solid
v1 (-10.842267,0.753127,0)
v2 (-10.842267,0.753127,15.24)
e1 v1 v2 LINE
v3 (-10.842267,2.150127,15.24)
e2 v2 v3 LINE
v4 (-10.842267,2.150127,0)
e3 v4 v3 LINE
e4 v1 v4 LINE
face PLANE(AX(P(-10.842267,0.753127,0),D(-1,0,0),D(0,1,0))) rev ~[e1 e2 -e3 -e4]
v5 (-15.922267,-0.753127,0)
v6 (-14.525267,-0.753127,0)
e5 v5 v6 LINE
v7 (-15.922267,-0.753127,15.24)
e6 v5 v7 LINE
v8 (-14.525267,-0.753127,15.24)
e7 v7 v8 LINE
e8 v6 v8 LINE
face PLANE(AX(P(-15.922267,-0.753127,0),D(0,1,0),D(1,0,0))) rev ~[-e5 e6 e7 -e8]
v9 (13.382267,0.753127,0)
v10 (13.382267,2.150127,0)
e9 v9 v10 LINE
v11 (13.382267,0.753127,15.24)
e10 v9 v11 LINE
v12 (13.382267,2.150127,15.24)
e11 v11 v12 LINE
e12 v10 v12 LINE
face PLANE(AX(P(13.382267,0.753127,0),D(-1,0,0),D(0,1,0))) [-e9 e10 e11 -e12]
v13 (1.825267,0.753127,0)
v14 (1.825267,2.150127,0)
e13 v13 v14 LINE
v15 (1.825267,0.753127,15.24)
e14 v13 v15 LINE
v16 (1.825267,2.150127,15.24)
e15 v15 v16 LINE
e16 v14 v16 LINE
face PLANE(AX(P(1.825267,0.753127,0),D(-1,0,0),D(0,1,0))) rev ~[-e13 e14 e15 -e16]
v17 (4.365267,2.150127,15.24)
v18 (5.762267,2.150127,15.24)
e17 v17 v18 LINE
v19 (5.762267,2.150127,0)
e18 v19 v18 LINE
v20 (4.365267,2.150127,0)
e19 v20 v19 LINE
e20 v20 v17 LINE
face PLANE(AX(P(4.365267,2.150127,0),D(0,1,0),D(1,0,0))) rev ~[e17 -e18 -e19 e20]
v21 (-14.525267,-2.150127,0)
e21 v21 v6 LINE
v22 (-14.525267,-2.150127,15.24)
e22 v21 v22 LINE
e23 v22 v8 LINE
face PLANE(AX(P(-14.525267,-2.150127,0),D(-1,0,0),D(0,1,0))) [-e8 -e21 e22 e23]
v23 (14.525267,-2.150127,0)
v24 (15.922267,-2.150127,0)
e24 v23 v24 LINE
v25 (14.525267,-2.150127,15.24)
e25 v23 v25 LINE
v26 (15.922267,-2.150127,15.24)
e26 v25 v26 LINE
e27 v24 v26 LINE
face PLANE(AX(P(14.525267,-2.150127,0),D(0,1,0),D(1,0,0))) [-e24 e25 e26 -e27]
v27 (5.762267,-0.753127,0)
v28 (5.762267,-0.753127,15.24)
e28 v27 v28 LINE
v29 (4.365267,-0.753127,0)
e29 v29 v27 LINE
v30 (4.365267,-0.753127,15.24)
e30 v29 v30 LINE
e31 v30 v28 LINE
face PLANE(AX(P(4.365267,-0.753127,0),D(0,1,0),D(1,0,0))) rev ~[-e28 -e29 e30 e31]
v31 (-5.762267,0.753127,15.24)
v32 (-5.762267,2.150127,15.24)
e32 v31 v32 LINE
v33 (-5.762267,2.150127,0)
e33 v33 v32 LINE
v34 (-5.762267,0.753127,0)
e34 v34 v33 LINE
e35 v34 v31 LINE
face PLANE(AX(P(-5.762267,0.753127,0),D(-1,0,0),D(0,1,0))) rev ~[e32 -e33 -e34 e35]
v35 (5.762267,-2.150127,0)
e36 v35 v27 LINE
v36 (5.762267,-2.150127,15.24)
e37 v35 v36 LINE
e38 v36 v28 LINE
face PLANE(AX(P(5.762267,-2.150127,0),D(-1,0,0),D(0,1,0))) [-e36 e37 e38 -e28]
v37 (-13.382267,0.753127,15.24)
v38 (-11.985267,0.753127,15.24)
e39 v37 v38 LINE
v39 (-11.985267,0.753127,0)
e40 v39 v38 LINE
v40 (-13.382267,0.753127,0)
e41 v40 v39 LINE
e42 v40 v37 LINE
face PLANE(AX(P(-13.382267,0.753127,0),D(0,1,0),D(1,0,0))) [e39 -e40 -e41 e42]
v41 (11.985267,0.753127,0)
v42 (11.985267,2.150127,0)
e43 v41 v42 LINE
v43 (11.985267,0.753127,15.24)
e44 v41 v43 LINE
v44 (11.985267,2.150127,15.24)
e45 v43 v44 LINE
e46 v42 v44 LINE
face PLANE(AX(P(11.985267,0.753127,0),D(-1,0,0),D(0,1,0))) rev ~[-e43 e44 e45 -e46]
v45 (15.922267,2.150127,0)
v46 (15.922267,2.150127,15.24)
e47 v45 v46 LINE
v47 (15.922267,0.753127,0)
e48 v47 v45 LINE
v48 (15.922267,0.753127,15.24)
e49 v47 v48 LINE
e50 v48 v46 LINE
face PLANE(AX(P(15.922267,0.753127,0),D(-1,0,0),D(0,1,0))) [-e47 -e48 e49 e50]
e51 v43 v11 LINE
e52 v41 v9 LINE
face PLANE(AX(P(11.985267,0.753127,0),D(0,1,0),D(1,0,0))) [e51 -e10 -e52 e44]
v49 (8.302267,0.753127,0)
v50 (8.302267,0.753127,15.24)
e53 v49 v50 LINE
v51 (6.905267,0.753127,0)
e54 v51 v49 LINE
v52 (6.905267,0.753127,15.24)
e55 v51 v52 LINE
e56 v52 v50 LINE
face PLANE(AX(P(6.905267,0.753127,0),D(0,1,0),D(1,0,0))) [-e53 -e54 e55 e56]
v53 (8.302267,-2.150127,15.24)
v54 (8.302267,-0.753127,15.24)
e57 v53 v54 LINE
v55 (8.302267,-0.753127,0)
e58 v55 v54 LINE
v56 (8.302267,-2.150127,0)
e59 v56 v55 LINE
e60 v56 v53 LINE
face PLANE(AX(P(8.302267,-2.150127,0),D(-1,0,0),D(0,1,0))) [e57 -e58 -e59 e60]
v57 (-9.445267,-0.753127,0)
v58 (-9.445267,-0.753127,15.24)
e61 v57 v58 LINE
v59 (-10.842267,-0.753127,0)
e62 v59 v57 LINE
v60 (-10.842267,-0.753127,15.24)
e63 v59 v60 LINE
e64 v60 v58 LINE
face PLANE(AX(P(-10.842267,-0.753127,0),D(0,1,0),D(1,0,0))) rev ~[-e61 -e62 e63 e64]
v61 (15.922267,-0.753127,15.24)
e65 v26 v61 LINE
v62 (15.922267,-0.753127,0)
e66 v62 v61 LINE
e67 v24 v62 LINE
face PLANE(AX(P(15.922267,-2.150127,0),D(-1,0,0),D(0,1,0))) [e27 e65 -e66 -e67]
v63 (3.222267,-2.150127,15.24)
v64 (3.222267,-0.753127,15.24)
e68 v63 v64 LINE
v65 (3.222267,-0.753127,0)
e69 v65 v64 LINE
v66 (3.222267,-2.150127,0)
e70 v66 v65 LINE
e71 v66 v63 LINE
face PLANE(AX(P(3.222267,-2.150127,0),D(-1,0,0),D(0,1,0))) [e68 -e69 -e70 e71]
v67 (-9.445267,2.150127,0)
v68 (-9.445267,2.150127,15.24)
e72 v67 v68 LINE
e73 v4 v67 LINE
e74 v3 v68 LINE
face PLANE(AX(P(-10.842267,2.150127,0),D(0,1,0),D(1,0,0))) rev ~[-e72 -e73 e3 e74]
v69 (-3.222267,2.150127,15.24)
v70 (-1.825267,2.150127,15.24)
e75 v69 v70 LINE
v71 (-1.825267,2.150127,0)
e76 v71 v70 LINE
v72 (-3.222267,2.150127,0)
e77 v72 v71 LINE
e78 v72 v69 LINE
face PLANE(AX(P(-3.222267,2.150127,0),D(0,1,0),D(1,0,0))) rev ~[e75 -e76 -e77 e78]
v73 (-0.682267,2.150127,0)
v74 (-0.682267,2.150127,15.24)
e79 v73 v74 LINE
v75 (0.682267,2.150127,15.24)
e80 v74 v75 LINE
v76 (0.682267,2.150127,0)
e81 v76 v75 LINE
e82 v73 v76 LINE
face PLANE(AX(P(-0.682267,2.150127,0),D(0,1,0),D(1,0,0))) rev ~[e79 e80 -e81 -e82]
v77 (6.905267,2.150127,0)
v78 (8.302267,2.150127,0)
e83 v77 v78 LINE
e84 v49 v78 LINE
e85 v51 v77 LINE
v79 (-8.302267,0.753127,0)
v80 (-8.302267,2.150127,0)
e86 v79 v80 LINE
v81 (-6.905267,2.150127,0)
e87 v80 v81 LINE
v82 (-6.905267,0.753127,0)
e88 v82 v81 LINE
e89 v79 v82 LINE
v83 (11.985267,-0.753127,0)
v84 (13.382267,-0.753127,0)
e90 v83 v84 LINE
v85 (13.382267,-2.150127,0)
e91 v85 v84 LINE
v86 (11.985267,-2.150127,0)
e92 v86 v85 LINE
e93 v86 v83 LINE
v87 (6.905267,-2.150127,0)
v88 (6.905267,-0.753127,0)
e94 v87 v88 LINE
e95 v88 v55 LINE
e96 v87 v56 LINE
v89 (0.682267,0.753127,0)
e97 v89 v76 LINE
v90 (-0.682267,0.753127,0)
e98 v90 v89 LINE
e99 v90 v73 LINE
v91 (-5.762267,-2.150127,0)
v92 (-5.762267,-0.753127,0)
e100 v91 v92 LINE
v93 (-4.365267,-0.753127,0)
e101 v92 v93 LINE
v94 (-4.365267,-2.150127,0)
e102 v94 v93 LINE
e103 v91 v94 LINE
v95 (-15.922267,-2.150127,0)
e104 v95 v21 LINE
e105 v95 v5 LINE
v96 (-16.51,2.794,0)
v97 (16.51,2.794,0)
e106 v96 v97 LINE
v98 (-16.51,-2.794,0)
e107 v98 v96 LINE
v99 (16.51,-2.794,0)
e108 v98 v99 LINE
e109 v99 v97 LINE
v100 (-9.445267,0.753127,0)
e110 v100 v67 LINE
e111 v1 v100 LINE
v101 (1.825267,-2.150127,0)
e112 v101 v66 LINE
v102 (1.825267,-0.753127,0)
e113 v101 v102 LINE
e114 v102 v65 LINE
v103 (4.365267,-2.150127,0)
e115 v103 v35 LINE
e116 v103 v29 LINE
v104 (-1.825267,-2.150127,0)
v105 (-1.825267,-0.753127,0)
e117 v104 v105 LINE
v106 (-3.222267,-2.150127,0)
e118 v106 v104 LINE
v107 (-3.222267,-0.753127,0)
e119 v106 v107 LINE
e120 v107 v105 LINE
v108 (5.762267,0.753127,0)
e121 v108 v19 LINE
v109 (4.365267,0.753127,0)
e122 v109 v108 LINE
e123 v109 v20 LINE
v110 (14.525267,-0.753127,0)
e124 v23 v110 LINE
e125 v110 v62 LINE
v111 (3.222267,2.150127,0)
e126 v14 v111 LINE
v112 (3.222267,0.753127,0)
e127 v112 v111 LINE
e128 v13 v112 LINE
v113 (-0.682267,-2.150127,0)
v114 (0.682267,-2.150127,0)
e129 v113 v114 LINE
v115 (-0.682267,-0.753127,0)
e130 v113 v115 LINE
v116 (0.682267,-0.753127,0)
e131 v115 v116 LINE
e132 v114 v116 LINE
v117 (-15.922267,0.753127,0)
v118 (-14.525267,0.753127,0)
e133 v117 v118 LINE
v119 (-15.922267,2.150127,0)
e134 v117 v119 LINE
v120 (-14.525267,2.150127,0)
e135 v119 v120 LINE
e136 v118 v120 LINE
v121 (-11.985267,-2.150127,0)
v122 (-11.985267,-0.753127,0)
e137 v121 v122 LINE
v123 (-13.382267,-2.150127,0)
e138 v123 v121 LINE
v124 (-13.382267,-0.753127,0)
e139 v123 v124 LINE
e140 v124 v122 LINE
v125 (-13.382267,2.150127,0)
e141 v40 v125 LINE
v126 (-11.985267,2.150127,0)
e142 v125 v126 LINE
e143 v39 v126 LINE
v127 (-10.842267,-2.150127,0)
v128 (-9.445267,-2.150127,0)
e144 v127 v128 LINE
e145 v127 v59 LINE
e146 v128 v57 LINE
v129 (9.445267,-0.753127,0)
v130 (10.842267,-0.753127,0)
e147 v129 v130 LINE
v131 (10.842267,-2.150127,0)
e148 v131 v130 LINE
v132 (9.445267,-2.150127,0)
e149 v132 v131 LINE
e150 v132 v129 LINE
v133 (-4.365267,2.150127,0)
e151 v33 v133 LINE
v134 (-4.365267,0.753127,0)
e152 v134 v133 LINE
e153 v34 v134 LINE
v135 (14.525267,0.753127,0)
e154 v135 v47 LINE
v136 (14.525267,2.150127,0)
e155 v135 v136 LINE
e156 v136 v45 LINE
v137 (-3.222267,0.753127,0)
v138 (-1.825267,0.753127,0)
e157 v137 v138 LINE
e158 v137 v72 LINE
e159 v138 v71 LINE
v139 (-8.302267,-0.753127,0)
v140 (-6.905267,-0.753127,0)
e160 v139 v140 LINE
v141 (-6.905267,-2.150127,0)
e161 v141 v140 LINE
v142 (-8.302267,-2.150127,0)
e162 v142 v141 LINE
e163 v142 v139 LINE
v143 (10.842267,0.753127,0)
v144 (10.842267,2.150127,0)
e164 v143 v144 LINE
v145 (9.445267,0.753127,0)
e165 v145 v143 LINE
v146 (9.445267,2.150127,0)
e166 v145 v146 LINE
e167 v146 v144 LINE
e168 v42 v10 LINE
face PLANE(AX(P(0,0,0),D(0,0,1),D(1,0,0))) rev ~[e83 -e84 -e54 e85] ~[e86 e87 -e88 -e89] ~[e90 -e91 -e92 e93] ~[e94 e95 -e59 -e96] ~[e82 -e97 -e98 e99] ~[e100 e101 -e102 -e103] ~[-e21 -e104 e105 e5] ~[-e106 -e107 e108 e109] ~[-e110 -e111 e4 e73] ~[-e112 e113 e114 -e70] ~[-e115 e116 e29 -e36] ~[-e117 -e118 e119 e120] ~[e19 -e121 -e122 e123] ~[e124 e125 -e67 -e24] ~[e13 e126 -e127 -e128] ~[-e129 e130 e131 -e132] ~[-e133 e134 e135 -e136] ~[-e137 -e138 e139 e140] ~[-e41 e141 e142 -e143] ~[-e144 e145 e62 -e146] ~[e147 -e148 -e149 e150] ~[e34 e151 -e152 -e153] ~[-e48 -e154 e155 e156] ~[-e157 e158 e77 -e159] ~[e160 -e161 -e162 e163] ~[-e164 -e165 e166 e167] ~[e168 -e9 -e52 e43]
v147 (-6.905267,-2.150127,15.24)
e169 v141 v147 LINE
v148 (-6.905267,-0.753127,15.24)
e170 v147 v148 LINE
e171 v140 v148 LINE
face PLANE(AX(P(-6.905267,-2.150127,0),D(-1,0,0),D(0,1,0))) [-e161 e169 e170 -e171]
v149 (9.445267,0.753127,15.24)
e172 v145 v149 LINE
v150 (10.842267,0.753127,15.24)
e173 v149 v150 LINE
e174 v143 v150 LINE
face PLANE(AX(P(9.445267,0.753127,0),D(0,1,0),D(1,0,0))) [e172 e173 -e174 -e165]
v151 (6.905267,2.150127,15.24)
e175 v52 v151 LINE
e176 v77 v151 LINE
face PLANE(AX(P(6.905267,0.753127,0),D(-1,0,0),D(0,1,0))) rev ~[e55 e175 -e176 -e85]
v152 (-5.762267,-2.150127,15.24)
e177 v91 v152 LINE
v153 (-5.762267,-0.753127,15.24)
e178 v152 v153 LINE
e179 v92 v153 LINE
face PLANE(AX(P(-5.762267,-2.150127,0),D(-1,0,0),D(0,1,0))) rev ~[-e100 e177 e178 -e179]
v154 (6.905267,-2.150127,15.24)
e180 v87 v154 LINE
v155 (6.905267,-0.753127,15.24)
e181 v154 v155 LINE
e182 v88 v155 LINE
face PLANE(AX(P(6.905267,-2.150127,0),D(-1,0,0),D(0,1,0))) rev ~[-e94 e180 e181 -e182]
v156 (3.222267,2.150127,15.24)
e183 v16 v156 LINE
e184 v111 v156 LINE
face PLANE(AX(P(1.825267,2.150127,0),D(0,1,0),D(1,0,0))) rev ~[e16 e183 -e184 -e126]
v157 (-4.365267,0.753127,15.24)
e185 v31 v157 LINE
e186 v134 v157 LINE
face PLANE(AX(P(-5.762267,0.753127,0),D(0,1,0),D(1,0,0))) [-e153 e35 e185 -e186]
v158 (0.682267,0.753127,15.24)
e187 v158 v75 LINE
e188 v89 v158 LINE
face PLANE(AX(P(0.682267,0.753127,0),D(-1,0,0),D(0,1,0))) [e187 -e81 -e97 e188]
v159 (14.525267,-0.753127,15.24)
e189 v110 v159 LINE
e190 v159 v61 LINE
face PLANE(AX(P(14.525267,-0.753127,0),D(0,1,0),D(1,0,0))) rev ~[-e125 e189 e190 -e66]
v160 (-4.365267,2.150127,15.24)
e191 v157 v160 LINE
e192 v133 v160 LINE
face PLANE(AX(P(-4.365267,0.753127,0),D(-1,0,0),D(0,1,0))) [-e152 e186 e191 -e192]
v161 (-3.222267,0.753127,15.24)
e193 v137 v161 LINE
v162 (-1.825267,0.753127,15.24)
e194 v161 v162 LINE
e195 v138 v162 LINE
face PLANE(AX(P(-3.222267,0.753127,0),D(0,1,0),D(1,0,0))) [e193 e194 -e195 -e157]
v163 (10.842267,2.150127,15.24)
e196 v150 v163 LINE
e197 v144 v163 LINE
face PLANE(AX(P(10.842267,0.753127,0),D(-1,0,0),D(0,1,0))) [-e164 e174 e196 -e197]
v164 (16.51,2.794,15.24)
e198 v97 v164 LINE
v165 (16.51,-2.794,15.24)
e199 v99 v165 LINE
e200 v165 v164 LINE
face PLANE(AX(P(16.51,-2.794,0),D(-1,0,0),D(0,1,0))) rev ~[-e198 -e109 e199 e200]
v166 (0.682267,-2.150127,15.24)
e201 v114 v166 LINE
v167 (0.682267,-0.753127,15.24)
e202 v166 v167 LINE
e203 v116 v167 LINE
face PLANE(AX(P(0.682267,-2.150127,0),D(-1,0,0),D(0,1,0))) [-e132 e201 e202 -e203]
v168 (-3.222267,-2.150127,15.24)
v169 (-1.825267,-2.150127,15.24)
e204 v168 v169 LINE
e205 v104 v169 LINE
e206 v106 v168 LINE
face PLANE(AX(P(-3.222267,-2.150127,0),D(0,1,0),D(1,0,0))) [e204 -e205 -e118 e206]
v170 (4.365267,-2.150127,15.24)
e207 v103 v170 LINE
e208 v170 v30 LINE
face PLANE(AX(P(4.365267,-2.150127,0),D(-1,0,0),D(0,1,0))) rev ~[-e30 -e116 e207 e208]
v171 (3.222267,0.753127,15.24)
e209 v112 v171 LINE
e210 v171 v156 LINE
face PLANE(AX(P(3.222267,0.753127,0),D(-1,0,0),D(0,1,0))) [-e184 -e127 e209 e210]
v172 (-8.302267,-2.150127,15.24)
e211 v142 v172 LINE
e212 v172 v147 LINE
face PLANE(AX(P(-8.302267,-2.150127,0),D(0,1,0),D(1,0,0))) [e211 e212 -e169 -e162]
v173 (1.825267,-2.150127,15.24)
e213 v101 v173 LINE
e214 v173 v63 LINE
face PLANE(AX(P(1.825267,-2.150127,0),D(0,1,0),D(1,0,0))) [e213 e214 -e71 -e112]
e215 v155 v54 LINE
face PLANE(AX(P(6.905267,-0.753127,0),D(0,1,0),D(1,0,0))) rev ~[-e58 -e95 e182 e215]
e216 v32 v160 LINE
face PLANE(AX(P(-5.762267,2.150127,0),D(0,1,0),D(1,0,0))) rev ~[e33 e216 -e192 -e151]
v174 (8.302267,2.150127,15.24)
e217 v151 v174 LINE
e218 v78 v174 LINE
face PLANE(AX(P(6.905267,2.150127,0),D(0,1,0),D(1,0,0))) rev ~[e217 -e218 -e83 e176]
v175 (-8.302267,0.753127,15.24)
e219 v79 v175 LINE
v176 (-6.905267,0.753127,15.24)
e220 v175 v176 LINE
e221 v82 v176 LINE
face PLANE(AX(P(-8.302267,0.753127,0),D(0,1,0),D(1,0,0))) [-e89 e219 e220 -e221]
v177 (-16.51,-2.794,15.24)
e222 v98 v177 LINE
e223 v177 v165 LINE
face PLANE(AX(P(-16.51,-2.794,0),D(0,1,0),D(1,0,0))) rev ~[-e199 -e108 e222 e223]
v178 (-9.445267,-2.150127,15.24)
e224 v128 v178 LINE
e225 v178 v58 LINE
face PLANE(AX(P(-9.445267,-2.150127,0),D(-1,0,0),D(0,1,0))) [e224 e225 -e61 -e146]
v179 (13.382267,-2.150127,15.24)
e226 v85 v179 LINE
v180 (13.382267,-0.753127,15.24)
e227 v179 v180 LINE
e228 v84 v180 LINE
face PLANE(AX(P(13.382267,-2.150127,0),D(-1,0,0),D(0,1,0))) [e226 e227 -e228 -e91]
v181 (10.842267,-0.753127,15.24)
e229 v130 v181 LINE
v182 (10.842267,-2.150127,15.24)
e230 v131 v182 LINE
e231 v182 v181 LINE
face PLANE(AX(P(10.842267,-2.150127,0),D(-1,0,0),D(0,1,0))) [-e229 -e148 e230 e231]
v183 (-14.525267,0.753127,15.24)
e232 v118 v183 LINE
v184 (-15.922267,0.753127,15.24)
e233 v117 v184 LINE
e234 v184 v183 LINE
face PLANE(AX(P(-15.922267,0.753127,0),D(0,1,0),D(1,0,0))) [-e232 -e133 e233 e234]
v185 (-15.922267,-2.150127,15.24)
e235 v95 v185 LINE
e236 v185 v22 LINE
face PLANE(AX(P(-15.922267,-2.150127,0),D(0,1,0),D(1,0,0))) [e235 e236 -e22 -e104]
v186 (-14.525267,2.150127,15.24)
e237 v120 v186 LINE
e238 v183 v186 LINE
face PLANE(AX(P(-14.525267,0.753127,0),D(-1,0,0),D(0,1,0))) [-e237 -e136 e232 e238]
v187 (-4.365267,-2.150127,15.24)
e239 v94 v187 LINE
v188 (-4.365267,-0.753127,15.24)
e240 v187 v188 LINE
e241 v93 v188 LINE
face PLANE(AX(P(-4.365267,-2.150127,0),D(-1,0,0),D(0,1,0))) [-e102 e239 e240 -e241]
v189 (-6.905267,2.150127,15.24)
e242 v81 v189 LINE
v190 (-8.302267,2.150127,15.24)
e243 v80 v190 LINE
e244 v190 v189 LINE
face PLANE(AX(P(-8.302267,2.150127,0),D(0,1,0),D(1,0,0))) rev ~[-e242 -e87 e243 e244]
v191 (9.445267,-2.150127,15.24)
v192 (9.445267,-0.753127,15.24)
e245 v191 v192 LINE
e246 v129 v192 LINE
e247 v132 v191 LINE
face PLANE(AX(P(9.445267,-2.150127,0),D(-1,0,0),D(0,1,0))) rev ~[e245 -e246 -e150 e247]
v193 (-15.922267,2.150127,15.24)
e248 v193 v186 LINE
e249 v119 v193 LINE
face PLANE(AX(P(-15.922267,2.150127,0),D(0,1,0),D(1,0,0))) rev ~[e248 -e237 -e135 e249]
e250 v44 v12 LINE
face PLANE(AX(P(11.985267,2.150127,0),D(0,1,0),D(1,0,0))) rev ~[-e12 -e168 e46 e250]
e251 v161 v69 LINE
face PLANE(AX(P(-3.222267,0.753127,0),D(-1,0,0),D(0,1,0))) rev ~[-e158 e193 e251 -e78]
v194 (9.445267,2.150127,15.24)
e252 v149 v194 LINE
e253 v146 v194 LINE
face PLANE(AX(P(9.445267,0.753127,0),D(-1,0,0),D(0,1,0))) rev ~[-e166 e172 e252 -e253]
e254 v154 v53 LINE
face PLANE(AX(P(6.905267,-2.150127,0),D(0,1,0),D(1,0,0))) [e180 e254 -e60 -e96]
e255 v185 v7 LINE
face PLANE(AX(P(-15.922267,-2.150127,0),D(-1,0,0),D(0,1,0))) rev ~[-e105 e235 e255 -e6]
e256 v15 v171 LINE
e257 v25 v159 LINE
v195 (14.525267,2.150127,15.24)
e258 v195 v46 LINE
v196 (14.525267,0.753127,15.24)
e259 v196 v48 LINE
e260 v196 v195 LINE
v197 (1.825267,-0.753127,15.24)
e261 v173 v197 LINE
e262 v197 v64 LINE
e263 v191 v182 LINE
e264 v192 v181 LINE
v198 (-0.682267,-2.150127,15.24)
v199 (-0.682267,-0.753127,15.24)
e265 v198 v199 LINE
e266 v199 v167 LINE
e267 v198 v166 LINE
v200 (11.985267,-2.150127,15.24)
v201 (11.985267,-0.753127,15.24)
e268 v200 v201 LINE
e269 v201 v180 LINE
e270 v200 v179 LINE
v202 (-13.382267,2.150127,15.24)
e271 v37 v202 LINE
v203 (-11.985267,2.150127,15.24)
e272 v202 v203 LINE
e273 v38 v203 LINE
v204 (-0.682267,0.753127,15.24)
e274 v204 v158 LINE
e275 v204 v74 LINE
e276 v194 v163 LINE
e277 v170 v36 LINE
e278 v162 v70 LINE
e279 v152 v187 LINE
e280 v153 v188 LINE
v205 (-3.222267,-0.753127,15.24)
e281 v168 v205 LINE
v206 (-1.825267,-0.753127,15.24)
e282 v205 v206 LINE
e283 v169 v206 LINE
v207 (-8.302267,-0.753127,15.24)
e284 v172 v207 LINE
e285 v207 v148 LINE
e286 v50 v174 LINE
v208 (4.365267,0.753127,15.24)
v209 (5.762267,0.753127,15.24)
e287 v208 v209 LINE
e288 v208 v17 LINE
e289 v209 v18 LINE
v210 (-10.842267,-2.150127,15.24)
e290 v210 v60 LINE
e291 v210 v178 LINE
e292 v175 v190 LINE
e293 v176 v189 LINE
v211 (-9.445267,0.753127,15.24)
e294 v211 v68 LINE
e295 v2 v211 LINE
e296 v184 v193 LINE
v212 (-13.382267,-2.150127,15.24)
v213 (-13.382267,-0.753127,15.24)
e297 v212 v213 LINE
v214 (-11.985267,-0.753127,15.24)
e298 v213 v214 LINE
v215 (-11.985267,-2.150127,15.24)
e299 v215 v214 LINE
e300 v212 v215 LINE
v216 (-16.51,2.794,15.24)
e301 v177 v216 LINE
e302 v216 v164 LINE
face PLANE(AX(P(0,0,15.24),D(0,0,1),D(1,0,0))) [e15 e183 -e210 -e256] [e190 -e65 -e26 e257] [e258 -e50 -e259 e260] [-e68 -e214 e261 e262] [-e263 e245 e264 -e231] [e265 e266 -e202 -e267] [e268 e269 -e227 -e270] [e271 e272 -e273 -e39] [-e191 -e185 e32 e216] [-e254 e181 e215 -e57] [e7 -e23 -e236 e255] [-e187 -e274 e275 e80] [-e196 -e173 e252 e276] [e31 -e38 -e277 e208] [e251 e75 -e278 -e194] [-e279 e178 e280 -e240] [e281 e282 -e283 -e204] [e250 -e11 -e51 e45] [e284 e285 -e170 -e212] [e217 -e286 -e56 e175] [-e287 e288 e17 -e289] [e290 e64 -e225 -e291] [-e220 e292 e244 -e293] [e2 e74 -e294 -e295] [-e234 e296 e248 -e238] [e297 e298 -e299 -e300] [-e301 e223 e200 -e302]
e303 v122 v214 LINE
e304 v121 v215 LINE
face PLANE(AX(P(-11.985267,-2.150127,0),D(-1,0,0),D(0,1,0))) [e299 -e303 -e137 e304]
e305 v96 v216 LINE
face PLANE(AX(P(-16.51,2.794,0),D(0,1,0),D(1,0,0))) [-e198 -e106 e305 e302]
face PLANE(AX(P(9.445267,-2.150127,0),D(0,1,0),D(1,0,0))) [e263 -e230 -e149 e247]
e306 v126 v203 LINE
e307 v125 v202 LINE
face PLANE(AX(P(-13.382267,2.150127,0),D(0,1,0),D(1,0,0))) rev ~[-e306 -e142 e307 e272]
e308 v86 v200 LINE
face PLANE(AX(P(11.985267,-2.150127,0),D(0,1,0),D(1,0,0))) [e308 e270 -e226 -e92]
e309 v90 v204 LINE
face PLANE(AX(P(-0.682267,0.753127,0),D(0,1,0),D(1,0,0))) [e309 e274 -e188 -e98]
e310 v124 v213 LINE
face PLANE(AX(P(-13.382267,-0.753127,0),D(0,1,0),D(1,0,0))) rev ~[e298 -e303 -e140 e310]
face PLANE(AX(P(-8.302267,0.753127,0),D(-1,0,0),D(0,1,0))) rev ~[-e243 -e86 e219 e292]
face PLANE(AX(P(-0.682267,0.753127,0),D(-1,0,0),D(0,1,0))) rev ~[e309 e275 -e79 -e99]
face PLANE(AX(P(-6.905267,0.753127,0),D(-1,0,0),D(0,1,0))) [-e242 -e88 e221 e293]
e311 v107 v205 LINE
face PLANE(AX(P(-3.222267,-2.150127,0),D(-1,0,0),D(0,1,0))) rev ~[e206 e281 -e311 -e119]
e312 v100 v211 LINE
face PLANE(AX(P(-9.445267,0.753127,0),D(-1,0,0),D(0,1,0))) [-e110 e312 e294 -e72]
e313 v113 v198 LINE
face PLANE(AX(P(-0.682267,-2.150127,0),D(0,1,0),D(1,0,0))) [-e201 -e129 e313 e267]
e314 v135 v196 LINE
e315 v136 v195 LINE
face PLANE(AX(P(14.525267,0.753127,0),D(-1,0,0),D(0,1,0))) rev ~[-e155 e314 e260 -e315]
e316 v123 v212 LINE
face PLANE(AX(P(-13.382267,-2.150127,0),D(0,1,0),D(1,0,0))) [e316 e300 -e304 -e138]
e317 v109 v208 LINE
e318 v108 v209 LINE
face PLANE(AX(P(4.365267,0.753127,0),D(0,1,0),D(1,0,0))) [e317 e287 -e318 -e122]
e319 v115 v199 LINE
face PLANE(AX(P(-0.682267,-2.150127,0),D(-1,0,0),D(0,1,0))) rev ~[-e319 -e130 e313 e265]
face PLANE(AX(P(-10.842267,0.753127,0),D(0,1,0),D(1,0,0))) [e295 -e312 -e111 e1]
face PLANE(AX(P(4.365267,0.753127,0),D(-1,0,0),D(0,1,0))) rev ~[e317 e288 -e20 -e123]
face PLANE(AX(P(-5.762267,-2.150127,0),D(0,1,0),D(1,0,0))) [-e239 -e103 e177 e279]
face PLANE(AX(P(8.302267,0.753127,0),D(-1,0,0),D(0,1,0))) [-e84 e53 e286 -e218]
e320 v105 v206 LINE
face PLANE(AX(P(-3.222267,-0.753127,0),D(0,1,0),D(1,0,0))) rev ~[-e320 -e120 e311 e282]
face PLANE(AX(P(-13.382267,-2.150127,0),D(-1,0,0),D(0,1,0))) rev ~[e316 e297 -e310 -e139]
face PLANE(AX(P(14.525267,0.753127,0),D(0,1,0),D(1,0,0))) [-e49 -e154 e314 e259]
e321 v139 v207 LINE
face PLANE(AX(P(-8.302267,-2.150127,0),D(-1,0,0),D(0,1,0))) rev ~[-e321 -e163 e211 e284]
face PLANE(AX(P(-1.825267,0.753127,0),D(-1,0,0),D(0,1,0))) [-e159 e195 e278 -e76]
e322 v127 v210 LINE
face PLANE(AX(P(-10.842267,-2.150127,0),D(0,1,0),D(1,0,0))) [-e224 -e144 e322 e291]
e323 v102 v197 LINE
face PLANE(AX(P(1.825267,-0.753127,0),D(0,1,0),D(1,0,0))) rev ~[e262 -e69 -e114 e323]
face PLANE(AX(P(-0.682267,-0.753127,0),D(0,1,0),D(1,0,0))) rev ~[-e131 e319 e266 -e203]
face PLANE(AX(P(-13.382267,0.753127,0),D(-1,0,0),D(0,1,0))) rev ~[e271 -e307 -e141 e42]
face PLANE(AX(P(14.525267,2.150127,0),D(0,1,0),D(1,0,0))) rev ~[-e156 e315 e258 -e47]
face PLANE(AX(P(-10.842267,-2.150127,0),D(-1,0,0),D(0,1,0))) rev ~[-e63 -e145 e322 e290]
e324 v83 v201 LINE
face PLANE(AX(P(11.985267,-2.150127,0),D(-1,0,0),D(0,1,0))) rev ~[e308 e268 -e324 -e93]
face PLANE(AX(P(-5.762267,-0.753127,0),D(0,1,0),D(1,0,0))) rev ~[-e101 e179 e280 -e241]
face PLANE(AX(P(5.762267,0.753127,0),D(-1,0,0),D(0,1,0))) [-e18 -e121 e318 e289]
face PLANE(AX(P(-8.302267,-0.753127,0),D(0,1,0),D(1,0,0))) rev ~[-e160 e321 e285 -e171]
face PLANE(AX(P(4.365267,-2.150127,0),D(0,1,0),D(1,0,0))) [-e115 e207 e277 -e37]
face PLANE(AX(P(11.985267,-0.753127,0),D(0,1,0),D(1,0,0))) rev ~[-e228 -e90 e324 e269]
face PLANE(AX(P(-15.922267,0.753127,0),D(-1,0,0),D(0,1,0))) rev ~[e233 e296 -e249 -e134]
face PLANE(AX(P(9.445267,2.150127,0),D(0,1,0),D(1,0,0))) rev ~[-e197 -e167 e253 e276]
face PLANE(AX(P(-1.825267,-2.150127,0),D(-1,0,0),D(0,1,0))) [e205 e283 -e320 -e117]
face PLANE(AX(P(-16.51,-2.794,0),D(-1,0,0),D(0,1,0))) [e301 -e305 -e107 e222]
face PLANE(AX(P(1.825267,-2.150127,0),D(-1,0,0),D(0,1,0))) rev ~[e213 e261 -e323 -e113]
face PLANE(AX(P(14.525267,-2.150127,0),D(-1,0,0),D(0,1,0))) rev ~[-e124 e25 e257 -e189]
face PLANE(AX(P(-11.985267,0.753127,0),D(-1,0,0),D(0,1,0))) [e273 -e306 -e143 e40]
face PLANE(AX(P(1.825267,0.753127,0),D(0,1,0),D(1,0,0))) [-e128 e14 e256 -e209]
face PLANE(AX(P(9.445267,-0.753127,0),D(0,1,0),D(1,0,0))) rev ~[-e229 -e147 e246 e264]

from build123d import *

# Parameters (mm, degrees)
SKETCH1_W           = 33.02
SKETCH1_H           = 5.588
SKETCH1_W_2         = 1.397
SKETCH1_H_2         = 1.397
SKETCH1_W_3         = 1.364533422
BOSS_EXTRUDE1_DEPTH = 15.24


with BuildPart() as part:
    # Sketch1 → Boss-Extrude1 (new body)
    with BuildSketch(Plane.XY):
        Rectangle(SKETCH1_W, SKETCH1_H)
        with Locations((2.523766711, -1.451626982)):
            Rectangle(SKETCH1_W_2, SKETCH1_H_2, mode=Mode.SUBTRACT)
        with Locations((0, -1.451626982)):
            Rectangle(SKETCH1_W_3, SKETCH1_H_2, mode=Mode.SUBTRACT)
        with Locations((5.063766711, -1.451626982)):
            Rectangle(SKETCH1_W_2, SKETCH1_H_2, mode=Mode.SUBTRACT)
        with Locations((7.603766711, -1.451626982)):
            Rectangle(SKETCH1_W_2, SKETCH1_H_2, mode=Mode.SUBTRACT)
        with Locations((10.143766711, -1.451626982)):
            Rectangle(SKETCH1_W_2, SKETCH1_H_2, mode=Mode.SUBTRACT)
        with Locations((12.683766711, -1.451626982)):
            Rectangle(SKETCH1_W_2, SKETCH1_H_2, mode=Mode.SUBTRACT)
        with Locations((15.223766711, -1.451626982)):
            Rectangle(SKETCH1_W_2, SKETCH1_H_2, mode=Mode.SUBTRACT)
        with Locations((-15.223766711, -1.451626982)):
            Rectangle(SKETCH1_W_2, SKETCH1_H_2, mode=Mode.SUBTRACT)
        with Locations((-12.683766711, -1.451626982)):
            Rectangle(SKETCH1_W_2, SKETCH1_H_2, mode=Mode.SUBTRACT)
        with Locations((-10.143766711, -1.451626982)):
            Rectangle(SKETCH1_W_2, SKETCH1_H_2, mode=Mode.SUBTRACT)
        with Locations((-7.603766711, -1.451626982)):
            Rectangle(SKETCH1_W_2, SKETCH1_H_2, mode=Mode.SUBTRACT)
        with Locations((-5.063766711, -1.451626982)):
            Rectangle(SKETCH1_W_2, SKETCH1_H_2, mode=Mode.SUBTRACT)
        with Locations((-2.523766711, -1.451626982)):
            Rectangle(SKETCH1_W_2, SKETCH1_H_2, mode=Mode.SUBTRACT)
        with Locations((-2.523766711, 1.451626982)):
            Rectangle(SKETCH1_W_2, SKETCH1_H_2, mode=Mode.SUBTRACT)
        with Locations((0, 1.451626982)):
            Rectangle(SKETCH1_W_3, SKETCH1_H_2, mode=Mode.SUBTRACT)
        with Locations((-5.063766711, 1.451626982)):
            Rectangle(SKETCH1_W_2, SKETCH1_H_2, mode=Mode.SUBTRACT)
        with Locations((-7.603766711, 1.451626982)):
            Rectangle(SKETCH1_W_2, SKETCH1_H_2, mode=Mode.SUBTRACT)
        with Locations((-10.143766711, 1.451626982)):
            Rectangle(SKETCH1_W_2, SKETCH1_H_2, mode=Mode.SUBTRACT)
        with Locations((-12.683766711, 1.451626982)):
            Rectangle(SKETCH1_W_2, SKETCH1_H_2, mode=Mode.SUBTRACT)
        with Locations((-15.223766711, 1.451626982)):
            Rectangle(SKETCH1_W_2, SKETCH1_H_2, mode=Mode.SUBTRACT)
        with Locations((15.223766711, 1.451626982)):
            Rectangle(SKETCH1_W_2, SKETCH1_H_2, mode=Mode.SUBTRACT)
        with Locations((12.683766711, 1.451626982)):
            Rectangle(SKETCH1_W_2, SKETCH1_H_2, mode=Mode.SUBTRACT)
        with Locations((10.143766711, 1.451626982)):
            Rectangle(SKETCH1_W_2, SKETCH1_H_2, mode=Mode.SUBTRACT)
        with Locations((7.603766711, 1.451626982)):
            Rectangle(SKETCH1_W_2, SKETCH1_H_2, mode=Mode.SUBTRACT)
        with Locations((5.063766711, 1.451626982)):
            Rectangle(SKETCH1_W_2, SKETCH1_H_2, mode=Mode.SUBTRACT)
        with Locations((2.523766711, 1.451626982)):
            Rectangle(SKETCH1_W_2, SKETCH1_H_2, mode=Mode.SUBTRACT)
    extrude(amount=BOSS_EXTRUDE1_DEPTH)


solid = part.part
